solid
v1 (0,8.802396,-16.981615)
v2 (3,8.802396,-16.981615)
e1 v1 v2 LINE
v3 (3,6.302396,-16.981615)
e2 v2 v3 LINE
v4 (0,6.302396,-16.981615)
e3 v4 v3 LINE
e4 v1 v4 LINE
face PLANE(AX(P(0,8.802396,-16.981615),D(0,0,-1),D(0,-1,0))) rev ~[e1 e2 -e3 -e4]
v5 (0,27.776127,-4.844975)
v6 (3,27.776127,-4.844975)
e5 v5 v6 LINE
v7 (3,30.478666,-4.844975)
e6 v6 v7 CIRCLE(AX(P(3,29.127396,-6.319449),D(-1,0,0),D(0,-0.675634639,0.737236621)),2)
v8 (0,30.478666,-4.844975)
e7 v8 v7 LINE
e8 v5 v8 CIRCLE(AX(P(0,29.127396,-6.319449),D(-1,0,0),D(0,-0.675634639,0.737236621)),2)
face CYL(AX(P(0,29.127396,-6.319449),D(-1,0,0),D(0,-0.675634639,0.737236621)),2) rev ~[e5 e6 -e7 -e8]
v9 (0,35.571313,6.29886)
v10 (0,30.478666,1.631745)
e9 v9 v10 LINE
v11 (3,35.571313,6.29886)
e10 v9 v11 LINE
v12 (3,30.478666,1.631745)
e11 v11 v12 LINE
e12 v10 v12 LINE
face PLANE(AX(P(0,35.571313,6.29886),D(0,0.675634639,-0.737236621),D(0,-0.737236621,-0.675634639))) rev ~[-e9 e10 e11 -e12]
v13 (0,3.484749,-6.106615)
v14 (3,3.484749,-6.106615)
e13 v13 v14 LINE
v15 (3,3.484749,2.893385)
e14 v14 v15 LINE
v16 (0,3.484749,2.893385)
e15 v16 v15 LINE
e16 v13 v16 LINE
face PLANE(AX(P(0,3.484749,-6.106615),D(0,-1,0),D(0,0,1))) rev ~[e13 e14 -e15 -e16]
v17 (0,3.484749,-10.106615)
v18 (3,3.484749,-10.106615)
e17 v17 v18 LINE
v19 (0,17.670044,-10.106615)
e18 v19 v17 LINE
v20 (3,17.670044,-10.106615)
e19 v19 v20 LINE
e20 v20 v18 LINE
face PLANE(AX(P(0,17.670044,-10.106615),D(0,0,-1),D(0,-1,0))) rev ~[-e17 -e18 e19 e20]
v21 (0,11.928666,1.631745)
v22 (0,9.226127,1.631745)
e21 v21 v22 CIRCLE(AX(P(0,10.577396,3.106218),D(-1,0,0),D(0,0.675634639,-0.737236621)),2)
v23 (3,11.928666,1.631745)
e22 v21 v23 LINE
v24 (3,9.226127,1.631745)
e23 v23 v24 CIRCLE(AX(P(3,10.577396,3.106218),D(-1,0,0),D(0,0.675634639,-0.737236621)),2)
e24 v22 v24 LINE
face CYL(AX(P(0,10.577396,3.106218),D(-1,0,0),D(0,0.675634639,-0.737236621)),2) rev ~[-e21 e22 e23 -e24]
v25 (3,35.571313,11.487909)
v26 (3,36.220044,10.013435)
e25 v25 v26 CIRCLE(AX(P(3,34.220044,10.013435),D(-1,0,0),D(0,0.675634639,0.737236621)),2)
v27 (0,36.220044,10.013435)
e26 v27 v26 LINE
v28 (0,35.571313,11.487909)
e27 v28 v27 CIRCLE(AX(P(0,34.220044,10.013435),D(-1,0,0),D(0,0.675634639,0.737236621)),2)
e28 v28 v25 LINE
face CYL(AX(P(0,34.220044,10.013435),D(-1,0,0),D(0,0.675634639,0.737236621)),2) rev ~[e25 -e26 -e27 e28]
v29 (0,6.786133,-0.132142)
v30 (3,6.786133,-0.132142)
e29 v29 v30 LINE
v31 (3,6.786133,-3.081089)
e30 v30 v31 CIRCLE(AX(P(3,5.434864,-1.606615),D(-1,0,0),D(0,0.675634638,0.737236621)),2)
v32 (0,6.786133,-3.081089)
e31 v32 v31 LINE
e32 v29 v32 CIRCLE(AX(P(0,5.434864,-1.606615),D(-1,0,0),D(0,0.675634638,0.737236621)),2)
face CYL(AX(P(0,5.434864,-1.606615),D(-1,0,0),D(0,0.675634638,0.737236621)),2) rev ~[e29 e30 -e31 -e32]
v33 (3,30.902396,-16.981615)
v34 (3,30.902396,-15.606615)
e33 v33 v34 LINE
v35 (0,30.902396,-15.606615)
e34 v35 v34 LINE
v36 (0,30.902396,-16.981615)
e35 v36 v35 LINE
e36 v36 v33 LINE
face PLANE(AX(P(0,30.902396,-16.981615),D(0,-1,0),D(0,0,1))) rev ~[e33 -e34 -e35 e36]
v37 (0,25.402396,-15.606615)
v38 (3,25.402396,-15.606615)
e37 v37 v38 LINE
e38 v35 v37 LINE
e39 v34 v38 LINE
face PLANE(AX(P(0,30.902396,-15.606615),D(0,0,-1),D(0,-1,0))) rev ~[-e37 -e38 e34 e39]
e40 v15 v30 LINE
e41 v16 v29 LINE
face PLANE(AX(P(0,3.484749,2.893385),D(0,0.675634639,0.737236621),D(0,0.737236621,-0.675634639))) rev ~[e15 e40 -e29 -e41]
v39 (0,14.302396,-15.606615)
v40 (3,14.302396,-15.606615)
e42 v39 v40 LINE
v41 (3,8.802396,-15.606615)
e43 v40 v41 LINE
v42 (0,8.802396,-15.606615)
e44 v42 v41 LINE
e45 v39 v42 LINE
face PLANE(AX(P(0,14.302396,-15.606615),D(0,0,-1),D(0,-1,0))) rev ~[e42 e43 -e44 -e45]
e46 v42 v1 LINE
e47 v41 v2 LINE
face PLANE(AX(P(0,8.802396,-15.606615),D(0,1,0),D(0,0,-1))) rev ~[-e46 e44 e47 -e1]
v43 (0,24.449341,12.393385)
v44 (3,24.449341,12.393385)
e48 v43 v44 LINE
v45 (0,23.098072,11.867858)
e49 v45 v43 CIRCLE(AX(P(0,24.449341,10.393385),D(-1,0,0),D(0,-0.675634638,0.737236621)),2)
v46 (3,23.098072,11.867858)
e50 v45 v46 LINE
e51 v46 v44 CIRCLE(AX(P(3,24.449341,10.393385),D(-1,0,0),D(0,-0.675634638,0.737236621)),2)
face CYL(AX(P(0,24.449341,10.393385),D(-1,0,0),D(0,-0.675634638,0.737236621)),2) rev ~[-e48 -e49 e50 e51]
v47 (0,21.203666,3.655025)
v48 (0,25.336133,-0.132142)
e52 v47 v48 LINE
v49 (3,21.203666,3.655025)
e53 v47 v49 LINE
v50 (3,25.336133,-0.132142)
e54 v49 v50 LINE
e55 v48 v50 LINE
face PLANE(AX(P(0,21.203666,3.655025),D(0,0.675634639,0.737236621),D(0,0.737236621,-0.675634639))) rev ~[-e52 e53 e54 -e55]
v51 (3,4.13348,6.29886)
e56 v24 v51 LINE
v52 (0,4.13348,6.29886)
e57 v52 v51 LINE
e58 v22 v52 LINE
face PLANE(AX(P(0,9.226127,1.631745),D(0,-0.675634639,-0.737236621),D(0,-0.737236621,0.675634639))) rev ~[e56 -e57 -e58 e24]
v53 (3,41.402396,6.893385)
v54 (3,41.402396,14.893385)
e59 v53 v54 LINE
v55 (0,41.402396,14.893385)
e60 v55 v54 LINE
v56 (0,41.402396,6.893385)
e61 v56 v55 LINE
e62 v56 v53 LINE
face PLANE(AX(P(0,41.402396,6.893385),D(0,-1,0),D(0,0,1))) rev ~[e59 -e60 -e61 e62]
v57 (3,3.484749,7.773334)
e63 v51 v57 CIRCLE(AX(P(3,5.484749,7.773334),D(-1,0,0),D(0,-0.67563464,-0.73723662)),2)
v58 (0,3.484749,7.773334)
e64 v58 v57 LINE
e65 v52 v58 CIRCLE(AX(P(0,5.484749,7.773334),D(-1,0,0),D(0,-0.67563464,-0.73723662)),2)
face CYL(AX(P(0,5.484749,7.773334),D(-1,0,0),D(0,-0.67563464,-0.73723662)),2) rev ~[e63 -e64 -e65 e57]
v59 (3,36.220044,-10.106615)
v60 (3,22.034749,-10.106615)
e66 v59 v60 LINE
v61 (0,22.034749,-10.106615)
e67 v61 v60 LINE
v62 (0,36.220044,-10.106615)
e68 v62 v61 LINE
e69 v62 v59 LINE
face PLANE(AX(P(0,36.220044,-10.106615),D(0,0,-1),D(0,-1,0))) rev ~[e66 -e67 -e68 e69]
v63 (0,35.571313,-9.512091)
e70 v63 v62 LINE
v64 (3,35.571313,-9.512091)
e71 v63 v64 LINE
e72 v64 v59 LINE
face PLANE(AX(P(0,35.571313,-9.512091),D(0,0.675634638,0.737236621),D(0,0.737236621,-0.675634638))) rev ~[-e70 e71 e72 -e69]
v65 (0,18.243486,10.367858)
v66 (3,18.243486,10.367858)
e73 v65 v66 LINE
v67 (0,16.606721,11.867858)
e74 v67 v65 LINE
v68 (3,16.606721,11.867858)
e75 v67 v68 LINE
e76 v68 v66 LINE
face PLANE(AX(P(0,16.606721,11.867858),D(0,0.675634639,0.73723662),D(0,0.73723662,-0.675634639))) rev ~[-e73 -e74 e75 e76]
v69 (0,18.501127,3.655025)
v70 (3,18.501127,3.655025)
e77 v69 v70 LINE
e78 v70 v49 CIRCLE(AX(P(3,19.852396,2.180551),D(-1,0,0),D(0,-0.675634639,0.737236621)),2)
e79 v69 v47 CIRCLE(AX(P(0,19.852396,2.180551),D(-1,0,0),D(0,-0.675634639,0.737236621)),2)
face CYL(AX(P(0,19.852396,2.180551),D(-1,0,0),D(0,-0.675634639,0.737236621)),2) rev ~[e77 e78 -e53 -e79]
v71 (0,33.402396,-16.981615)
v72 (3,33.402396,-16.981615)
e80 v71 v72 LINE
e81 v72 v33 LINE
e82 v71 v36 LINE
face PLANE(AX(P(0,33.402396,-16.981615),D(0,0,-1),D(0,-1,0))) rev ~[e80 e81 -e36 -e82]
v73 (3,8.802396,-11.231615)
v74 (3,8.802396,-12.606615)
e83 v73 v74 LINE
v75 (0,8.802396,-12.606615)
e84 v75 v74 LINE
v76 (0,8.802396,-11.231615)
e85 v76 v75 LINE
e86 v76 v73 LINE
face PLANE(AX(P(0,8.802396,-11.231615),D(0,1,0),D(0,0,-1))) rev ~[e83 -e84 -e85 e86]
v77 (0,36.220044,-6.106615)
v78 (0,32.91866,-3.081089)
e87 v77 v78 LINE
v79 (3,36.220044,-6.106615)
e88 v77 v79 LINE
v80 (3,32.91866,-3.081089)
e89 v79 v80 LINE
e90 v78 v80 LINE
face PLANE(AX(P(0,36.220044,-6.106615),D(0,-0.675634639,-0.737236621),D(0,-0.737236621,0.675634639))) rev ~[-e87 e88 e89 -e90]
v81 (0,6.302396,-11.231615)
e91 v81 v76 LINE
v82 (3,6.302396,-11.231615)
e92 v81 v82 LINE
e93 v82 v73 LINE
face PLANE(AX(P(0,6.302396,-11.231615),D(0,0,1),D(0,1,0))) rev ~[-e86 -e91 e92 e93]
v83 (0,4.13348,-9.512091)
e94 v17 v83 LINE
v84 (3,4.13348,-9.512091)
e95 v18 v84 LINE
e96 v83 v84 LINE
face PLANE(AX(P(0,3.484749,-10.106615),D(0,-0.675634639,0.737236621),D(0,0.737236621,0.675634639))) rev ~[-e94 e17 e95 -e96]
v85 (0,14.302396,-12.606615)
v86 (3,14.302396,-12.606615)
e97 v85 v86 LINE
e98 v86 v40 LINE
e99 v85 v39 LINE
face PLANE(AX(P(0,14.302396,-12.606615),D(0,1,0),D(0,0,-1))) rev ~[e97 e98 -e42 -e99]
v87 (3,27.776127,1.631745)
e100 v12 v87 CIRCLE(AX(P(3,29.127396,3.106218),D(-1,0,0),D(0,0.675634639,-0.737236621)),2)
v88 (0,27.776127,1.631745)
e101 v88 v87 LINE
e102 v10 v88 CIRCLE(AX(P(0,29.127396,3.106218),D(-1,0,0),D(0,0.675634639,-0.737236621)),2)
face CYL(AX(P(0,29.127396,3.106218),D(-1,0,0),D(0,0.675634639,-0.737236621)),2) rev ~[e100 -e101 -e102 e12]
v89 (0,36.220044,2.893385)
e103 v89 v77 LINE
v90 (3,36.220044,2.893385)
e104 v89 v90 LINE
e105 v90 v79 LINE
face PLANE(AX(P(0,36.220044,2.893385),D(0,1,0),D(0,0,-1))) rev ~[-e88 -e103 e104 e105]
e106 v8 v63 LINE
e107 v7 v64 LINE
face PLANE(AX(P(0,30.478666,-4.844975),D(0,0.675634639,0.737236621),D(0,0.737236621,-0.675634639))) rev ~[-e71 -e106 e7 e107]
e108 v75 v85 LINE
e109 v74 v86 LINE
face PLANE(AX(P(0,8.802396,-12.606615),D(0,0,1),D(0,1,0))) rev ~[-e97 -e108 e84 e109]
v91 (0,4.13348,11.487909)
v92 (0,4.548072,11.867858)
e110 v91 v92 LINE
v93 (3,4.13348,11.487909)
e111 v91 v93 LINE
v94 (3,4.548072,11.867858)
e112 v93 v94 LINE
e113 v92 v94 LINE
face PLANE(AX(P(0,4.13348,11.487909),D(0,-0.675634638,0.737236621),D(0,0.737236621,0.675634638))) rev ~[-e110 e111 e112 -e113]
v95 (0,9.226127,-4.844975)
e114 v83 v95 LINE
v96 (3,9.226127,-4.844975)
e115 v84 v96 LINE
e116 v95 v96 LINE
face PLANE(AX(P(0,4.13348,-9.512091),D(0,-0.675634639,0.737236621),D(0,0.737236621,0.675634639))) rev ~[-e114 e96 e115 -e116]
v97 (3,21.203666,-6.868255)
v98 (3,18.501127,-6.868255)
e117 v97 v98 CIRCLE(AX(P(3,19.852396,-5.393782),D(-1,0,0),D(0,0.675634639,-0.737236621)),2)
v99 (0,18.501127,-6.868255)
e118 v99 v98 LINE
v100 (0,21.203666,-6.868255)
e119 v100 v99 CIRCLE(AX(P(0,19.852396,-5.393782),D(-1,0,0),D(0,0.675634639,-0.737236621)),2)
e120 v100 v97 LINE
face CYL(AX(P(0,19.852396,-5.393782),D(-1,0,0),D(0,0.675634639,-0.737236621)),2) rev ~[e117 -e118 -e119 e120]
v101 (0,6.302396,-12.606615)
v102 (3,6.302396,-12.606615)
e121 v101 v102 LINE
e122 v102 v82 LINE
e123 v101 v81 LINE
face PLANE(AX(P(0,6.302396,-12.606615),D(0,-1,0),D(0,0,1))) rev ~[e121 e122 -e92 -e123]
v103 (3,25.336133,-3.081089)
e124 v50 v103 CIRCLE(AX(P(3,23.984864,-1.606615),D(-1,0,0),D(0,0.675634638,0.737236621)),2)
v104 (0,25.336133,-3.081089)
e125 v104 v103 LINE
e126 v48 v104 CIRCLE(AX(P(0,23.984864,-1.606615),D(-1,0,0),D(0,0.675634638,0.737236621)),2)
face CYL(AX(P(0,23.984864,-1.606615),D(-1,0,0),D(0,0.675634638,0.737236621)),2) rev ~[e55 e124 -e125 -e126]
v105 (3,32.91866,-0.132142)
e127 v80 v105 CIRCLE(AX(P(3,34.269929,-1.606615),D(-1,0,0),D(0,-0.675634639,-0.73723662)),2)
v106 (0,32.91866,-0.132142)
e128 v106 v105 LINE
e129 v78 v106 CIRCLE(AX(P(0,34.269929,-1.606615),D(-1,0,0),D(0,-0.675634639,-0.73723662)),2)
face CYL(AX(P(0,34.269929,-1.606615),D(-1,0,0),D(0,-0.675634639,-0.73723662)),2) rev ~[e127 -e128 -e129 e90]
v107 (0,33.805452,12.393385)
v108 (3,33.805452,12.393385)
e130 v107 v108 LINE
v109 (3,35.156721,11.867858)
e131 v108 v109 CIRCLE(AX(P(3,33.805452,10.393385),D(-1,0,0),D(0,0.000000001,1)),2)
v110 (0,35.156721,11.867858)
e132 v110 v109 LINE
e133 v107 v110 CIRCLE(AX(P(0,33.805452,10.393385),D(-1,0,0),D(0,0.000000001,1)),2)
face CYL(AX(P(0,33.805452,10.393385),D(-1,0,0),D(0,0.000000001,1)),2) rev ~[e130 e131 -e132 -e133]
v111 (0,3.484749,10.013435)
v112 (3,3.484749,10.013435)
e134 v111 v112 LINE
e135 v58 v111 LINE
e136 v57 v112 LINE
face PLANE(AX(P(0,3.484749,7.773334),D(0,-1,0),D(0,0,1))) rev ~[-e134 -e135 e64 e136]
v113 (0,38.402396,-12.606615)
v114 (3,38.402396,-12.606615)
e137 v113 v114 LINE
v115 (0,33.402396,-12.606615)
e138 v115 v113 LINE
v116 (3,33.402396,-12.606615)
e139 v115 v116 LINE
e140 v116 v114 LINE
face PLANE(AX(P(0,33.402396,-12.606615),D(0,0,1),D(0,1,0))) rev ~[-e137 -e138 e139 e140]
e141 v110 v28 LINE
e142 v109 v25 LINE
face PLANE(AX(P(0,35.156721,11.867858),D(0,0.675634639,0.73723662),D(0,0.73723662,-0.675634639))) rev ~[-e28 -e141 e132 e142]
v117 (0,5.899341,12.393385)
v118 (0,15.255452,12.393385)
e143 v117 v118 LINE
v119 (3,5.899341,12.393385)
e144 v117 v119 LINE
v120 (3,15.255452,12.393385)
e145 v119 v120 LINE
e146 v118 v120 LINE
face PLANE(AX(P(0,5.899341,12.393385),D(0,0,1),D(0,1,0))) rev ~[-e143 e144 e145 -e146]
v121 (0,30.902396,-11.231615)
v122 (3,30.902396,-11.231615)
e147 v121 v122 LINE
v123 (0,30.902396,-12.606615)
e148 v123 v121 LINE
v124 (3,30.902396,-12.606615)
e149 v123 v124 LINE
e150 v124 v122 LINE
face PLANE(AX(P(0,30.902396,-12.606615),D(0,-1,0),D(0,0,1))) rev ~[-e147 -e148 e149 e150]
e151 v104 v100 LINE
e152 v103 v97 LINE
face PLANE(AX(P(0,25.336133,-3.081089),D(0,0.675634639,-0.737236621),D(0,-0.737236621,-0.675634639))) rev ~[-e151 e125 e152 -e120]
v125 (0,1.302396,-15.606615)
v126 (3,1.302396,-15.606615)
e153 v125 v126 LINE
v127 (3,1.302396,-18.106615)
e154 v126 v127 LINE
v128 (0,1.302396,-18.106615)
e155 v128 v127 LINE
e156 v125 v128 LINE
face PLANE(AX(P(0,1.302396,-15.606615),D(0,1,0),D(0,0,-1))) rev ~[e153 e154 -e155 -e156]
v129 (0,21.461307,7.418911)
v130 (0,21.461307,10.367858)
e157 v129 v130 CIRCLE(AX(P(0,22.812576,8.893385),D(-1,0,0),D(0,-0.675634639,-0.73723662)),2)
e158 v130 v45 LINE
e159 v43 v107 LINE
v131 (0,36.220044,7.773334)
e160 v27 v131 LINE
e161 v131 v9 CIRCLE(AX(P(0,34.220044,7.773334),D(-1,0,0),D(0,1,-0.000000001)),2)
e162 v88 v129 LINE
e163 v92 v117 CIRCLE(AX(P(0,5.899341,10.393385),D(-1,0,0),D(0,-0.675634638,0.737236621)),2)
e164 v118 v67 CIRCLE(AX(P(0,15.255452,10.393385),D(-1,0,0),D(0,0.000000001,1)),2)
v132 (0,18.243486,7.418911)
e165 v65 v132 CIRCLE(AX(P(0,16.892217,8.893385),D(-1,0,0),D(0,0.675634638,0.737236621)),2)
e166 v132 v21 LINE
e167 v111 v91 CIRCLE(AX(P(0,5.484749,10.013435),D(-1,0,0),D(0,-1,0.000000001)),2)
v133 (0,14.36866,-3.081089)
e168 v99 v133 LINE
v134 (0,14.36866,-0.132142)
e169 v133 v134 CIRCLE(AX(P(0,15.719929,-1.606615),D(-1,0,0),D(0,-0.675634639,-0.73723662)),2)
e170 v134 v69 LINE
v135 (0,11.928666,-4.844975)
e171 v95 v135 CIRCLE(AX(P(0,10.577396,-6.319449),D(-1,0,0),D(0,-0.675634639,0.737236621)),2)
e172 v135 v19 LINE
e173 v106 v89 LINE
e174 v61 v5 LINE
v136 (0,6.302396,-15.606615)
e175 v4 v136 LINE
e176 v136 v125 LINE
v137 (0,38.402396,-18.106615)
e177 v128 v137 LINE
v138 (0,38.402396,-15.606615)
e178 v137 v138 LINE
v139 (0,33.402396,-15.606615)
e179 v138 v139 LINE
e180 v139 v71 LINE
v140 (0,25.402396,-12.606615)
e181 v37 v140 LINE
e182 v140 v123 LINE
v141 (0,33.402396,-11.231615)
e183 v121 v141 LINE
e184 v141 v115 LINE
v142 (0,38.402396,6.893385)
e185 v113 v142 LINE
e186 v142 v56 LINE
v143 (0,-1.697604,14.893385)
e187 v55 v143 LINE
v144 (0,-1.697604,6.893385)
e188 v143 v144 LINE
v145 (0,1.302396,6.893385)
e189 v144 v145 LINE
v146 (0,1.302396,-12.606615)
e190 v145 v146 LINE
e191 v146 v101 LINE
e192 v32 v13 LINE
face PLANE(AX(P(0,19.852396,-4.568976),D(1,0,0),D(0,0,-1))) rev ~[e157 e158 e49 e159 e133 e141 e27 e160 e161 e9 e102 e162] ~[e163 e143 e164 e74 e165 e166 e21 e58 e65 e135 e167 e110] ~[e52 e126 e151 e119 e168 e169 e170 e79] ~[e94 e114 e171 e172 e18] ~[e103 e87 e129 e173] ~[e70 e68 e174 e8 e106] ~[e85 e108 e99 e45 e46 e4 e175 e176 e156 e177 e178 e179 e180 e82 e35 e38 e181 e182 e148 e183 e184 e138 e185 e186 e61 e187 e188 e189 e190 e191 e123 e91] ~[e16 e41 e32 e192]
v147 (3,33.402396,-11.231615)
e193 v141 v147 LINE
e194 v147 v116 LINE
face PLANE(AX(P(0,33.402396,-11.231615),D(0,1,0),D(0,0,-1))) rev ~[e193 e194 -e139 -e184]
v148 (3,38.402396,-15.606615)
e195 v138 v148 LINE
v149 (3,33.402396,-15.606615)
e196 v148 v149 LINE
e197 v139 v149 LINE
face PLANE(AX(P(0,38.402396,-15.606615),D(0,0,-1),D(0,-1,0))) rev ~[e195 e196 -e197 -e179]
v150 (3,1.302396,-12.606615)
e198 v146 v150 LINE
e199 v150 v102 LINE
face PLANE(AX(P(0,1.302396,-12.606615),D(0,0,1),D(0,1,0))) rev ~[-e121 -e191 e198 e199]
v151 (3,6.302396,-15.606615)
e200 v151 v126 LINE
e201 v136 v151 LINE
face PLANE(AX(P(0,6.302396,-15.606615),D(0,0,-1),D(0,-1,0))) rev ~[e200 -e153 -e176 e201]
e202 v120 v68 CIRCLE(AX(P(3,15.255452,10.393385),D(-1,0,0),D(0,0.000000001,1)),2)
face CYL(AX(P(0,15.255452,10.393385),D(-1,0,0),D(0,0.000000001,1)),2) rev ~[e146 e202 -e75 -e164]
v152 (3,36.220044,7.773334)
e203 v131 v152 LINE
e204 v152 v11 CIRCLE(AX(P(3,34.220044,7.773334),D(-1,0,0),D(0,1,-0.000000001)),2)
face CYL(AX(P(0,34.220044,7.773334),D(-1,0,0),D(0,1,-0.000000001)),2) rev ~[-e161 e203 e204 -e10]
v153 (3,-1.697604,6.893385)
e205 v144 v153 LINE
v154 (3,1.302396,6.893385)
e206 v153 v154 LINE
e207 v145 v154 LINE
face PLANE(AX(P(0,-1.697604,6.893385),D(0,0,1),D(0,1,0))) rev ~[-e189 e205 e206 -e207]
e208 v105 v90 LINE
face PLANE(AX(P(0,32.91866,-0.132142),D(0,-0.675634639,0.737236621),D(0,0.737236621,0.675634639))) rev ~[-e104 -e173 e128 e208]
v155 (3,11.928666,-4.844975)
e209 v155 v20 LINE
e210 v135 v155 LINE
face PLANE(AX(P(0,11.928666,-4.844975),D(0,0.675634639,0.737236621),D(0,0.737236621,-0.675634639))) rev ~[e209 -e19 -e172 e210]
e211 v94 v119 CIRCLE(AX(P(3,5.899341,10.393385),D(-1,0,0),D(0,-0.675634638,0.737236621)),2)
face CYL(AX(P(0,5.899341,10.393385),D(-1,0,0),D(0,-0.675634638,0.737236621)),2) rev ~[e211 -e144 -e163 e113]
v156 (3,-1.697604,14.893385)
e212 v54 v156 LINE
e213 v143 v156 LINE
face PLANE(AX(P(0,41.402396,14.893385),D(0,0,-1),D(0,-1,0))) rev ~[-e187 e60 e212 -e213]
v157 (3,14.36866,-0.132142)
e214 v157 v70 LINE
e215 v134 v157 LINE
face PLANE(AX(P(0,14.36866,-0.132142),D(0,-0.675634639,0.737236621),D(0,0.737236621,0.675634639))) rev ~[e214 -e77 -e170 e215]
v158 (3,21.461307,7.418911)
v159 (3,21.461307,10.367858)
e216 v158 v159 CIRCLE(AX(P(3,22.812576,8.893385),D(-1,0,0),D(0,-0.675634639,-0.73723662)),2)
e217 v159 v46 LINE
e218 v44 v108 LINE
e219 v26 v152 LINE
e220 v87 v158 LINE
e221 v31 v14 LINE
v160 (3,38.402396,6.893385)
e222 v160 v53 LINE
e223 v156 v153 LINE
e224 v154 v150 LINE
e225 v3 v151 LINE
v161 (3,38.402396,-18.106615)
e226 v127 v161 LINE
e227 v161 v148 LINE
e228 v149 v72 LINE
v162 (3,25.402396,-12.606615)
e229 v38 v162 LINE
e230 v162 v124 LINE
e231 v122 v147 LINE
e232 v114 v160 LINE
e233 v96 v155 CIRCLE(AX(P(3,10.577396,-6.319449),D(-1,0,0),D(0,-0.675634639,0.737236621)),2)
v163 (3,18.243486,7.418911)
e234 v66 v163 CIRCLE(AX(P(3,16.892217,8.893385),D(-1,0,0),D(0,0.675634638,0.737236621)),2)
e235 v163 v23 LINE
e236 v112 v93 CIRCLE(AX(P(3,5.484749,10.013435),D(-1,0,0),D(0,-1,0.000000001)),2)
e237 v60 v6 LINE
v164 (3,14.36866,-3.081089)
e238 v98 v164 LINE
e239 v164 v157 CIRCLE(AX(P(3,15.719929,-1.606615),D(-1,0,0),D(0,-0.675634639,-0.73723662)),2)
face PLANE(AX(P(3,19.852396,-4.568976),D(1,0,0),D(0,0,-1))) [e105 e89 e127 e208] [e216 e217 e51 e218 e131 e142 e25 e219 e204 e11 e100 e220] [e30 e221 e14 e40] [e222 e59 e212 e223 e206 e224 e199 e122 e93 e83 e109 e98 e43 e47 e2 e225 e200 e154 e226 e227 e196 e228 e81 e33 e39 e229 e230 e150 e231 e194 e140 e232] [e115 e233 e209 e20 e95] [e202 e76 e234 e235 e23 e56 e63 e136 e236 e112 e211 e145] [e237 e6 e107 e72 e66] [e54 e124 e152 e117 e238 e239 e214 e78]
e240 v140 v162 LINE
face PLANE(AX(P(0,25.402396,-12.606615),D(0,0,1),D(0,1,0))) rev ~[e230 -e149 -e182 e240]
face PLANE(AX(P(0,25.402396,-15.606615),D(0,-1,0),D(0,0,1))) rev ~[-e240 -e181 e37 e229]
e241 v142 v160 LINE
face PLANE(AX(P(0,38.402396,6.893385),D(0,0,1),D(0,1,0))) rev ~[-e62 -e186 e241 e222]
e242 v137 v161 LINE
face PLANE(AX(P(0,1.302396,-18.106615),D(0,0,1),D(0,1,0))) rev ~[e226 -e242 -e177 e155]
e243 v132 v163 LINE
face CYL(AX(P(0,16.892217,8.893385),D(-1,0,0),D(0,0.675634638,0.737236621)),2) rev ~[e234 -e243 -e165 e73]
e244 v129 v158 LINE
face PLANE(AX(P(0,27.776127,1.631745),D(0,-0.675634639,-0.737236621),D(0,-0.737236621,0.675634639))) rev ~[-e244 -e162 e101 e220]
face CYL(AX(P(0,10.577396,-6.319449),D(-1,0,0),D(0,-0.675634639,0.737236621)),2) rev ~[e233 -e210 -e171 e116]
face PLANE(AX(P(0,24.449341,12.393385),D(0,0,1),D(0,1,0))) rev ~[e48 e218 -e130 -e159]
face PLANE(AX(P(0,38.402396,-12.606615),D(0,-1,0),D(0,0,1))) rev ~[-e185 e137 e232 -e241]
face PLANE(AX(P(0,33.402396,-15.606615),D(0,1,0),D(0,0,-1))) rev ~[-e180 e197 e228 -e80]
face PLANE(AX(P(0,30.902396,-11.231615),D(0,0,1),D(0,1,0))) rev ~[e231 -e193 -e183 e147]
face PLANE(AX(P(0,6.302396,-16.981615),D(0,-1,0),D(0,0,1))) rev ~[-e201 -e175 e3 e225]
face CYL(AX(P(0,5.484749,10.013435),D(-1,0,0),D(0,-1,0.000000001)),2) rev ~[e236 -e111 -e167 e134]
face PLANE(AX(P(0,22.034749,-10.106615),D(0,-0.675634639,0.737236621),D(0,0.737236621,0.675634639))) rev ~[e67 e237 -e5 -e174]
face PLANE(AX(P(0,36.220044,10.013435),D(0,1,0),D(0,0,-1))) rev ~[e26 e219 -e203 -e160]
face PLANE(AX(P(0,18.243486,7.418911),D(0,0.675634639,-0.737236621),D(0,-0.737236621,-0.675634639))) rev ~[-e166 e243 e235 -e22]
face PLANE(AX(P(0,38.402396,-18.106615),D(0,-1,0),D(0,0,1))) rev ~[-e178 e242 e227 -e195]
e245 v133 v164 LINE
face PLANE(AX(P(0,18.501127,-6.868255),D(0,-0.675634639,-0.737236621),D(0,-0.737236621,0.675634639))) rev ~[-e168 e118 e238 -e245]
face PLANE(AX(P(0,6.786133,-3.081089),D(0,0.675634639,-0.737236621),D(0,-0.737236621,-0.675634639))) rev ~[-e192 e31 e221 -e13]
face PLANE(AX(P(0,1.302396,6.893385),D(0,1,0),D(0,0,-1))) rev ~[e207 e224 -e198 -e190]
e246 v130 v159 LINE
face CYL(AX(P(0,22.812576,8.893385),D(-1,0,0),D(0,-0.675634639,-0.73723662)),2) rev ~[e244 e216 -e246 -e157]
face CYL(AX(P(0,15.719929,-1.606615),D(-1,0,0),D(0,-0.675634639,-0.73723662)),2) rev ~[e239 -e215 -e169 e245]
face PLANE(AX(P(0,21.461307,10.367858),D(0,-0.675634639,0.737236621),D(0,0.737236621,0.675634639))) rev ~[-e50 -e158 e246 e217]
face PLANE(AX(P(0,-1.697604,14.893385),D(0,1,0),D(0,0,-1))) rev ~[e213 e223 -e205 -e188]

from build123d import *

# Parameters (mm, degrees)
RESSALTO_EXTRUS_O1_DEPTH = 3


with BuildPart() as part:
    # Esboço1 → Ressalto-extrusão1 (new body)
    with BuildSketch(Plane(origin=(0, 0, 0), x_dir=(0, 0, -1), z_dir=(1, 0, 0))):
        Polygon((9.606615439, 38.402396467), (-6.893384561, 38.402396467), (-6.893384561, 41.402396467), (-14.893384561, 41.402396467), (-14.893384561, 38.402396467), (-14.893384561, 1.302396467), (-14.893384561, -1.697603533), (-6.893384561, -1.697603533), (-6.893384561, 1.302396467), (9.606615439, 1.302396467), (10.106615439, 1.302396467), (12.106615439, 1.302396467), (12.606615439, 1.302396467), (12.606615439, 6.302396467), (11.231615439, 6.302396467), (11.231615439, 8.802396467), (12.606615439, 8.802396467), (12.606615439, 14.302396467), (15.606615439, 14.302396467), (15.606615439, 8.802396467), (16.981615439, 8.802396467), (16.981615439, 6.302396467), (15.606615439, 6.302396467), (15.606615439, 1.302396467), (18.106615439, 1.302396467), (18.106615439, 38.402396467), (15.606615439, 38.402396467), (15.606615439, 33.402396467), (16.981615439, 33.402396467), (16.981615439, 30.902396467), (15.606615439, 30.902396467), (15.606615439, 25.402396467), (12.606615439, 25.402396467), (12.606615439, 30.902396467), (11.231615439, 30.902396467), (11.231615439, 33.402396467), (12.606615439, 33.402396467), (12.606615439, 38.402396467), (12.106615439, 38.402396467), (10.106615439, 38.402396467), align=None)
        with BuildLine():
            Line((-7.41891132, 18.243485959), (-1.631744546, 11.928665745))
            ThreePointArc((-1.631744546, 11.928665745), (-1.106217787, 10.577396467), (-1.631744546, 9.226127189))
            Line((-1.631744546, 9.226127189), (-6.298860449, 4.13348013))
            ThreePointArc((-6.298860449, 4.13348013), (-6.967895473, 3.654102179), (-7.77333369, 3.484749408))
            Line((-7.77333369, 3.484749408), (-10.013435432, 3.484749408))
            ThreePointArc((-10.013435432, 3.484749408), (-10.818873649, 3.654102179), (-11.487908673, 4.13348013))
            Line((-11.487908673, 4.13348013), (-11.867857802, 4.54807168))
            ThreePointArc((-11.867857802, 4.54807168), (-12.257378456, 5.174408714), (-12.393384561, 5.899340958))
            Line((-12.393384561, 5.899340958), (-12.393384561, 15.255451976))
            ThreePointArc((-12.393384561, 15.255451976), (-12.257378456, 15.98038422), (-11.867857802, 16.606721254))
            Line((-11.867857802, 16.606721254), (-10.367857802, 18.243485959))
            ThreePointArc((-10.367857802, 18.243485959), (-8.893384561, 18.892216682), (-7.41891132, 18.243485959))
        make_face(mode=Mode.SUBTRACT)
        with BuildLine():
            Line((3.08108868, 6.786133018), (6.106615439, 3.484749408))
            Line((6.106615439, 3.484749408), (-2.893384561, 3.484749408))
            Line((-2.893384561, 3.484749408), (0.132142198, 6.786133018))
            ThreePointArc((0.132142198, 6.786133018), (1.606615439, 7.434863741), (3.08108868, 6.786133018))
        make_face(mode=Mode.SUBTRACT)
        with BuildLine():
            Line((10.106615439, 17.670043526), (10.106615439, 3.484749408))
            Line((10.106615439, 3.484749408), (9.512091327, 4.13348013))
            Line((9.512091327, 4.13348013), (4.844975424, 9.226127189))
            ThreePointArc((4.844975424, 9.226127189), (4.319448665, 10.577396467), (4.844975424, 11.928665745))
            Line((4.844975424, 11.928665745), (10.106615439, 17.670043526))
        make_face(mode=Mode.SUBTRACT)
        with BuildLine():
            ThreePointArc((3.08108868, 14.368659915), (1.606615439, 13.719929193), (0.132142198, 14.368659915))
            Line((0.132142198, 14.368659915), (-3.655024576, 18.501127189))
            ThreePointArc((-3.655024576, 18.501127189), (-4.180551335, 19.852396467), (-3.655024576, 21.203665745))
            Line((-3.655024576, 21.203665745), (0.132142198, 25.336133018))
            ThreePointArc((0.132142198, 25.336133018), (1.606615439, 25.984863741), (3.08108868, 25.336133018))
            Line((3.08108868, 25.336133018), (6.868255454, 21.203665745))
            ThreePointArc((6.868255454, 21.203665745), (7.393782213, 19.852396467), (6.868255454, 18.501127189))
            Line((6.868255454, 18.501127189), (3.08108868, 14.368659915))
        make_face(mode=Mode.SUBTRACT)
        with BuildLine():
            ThreePointArc((-11.867857802, 23.09807168), (-12.257378456, 23.724408714), (-12.393384561, 24.449340958))
            Line((-12.393384561, 24.449340958), (-12.393384561, 33.805451976))
            ThreePointArc((-12.393384561, 33.805451976), (-12.257378456, 34.53038422), (-11.867857802, 35.156721254))
            Line((-11.867857802, 35.156721254), (-11.487908673, 35.571312803))
            ThreePointArc((-11.487908673, 35.571312803), (-10.818873649, 36.050690755), (-10.013435432, 36.220043526))
            Line((-10.013435432, 36.220043526), (-7.77333369, 36.220043526))
            ThreePointArc((-7.77333369, 36.220043526), (-6.967895473, 36.050690755), (-6.298860449, 35.571312803))
            Line((-6.298860449, 35.571312803), (-1.631744546, 30.478665745))
            ThreePointArc((-1.631744546, 30.478665745), (-1.106217787, 29.127396467), (-1.631744546, 27.776127189))
            Line((-1.631744546, 27.776127189), (-7.41891132, 21.461306974))
            ThreePointArc((-7.41891132, 21.461306974), (-8.893384561, 20.812576252), (-10.367857802, 21.461306974))
            Line((-10.367857802, 21.461306974), (-11.867857802, 23.09807168))
        make_face(mode=Mode.SUBTRACT)
        with BuildLine():
            Line((9.512091327, 35.571312803), (10.106615439, 36.220043526))
            Line((10.106615439, 36.220043526), (10.106615439, 22.034749408))
            Line((10.106615439, 22.034749408), (4.844975424, 27.776127189))
            ThreePointArc((4.844975424, 27.776127189), (4.319448665, 29.127396467), (4.844975424, 30.478665745))
            Line((4.844975424, 30.478665745), (9.512091327, 35.571312803))
        make_face(mode=Mode.SUBTRACT)
        with BuildLine():
            Line((0.132142198, 32.918659915), (-2.893384561, 36.220043526))
            Line((-2.893384561, 36.220043526), (6.106615439, 36.220043526))
            Line((6.106615439, 36.220043526), (3.08108868, 32.918659915))
            ThreePointArc((3.08108868, 32.918659915), (1.606615439, 32.269929193), (0.132142198, 32.918659915))
        make_face(mode=Mode.SUBTRACT)
    extrude(amount=RESSALTO_EXTRUS_O1_DEPTH)


solid = part.part
